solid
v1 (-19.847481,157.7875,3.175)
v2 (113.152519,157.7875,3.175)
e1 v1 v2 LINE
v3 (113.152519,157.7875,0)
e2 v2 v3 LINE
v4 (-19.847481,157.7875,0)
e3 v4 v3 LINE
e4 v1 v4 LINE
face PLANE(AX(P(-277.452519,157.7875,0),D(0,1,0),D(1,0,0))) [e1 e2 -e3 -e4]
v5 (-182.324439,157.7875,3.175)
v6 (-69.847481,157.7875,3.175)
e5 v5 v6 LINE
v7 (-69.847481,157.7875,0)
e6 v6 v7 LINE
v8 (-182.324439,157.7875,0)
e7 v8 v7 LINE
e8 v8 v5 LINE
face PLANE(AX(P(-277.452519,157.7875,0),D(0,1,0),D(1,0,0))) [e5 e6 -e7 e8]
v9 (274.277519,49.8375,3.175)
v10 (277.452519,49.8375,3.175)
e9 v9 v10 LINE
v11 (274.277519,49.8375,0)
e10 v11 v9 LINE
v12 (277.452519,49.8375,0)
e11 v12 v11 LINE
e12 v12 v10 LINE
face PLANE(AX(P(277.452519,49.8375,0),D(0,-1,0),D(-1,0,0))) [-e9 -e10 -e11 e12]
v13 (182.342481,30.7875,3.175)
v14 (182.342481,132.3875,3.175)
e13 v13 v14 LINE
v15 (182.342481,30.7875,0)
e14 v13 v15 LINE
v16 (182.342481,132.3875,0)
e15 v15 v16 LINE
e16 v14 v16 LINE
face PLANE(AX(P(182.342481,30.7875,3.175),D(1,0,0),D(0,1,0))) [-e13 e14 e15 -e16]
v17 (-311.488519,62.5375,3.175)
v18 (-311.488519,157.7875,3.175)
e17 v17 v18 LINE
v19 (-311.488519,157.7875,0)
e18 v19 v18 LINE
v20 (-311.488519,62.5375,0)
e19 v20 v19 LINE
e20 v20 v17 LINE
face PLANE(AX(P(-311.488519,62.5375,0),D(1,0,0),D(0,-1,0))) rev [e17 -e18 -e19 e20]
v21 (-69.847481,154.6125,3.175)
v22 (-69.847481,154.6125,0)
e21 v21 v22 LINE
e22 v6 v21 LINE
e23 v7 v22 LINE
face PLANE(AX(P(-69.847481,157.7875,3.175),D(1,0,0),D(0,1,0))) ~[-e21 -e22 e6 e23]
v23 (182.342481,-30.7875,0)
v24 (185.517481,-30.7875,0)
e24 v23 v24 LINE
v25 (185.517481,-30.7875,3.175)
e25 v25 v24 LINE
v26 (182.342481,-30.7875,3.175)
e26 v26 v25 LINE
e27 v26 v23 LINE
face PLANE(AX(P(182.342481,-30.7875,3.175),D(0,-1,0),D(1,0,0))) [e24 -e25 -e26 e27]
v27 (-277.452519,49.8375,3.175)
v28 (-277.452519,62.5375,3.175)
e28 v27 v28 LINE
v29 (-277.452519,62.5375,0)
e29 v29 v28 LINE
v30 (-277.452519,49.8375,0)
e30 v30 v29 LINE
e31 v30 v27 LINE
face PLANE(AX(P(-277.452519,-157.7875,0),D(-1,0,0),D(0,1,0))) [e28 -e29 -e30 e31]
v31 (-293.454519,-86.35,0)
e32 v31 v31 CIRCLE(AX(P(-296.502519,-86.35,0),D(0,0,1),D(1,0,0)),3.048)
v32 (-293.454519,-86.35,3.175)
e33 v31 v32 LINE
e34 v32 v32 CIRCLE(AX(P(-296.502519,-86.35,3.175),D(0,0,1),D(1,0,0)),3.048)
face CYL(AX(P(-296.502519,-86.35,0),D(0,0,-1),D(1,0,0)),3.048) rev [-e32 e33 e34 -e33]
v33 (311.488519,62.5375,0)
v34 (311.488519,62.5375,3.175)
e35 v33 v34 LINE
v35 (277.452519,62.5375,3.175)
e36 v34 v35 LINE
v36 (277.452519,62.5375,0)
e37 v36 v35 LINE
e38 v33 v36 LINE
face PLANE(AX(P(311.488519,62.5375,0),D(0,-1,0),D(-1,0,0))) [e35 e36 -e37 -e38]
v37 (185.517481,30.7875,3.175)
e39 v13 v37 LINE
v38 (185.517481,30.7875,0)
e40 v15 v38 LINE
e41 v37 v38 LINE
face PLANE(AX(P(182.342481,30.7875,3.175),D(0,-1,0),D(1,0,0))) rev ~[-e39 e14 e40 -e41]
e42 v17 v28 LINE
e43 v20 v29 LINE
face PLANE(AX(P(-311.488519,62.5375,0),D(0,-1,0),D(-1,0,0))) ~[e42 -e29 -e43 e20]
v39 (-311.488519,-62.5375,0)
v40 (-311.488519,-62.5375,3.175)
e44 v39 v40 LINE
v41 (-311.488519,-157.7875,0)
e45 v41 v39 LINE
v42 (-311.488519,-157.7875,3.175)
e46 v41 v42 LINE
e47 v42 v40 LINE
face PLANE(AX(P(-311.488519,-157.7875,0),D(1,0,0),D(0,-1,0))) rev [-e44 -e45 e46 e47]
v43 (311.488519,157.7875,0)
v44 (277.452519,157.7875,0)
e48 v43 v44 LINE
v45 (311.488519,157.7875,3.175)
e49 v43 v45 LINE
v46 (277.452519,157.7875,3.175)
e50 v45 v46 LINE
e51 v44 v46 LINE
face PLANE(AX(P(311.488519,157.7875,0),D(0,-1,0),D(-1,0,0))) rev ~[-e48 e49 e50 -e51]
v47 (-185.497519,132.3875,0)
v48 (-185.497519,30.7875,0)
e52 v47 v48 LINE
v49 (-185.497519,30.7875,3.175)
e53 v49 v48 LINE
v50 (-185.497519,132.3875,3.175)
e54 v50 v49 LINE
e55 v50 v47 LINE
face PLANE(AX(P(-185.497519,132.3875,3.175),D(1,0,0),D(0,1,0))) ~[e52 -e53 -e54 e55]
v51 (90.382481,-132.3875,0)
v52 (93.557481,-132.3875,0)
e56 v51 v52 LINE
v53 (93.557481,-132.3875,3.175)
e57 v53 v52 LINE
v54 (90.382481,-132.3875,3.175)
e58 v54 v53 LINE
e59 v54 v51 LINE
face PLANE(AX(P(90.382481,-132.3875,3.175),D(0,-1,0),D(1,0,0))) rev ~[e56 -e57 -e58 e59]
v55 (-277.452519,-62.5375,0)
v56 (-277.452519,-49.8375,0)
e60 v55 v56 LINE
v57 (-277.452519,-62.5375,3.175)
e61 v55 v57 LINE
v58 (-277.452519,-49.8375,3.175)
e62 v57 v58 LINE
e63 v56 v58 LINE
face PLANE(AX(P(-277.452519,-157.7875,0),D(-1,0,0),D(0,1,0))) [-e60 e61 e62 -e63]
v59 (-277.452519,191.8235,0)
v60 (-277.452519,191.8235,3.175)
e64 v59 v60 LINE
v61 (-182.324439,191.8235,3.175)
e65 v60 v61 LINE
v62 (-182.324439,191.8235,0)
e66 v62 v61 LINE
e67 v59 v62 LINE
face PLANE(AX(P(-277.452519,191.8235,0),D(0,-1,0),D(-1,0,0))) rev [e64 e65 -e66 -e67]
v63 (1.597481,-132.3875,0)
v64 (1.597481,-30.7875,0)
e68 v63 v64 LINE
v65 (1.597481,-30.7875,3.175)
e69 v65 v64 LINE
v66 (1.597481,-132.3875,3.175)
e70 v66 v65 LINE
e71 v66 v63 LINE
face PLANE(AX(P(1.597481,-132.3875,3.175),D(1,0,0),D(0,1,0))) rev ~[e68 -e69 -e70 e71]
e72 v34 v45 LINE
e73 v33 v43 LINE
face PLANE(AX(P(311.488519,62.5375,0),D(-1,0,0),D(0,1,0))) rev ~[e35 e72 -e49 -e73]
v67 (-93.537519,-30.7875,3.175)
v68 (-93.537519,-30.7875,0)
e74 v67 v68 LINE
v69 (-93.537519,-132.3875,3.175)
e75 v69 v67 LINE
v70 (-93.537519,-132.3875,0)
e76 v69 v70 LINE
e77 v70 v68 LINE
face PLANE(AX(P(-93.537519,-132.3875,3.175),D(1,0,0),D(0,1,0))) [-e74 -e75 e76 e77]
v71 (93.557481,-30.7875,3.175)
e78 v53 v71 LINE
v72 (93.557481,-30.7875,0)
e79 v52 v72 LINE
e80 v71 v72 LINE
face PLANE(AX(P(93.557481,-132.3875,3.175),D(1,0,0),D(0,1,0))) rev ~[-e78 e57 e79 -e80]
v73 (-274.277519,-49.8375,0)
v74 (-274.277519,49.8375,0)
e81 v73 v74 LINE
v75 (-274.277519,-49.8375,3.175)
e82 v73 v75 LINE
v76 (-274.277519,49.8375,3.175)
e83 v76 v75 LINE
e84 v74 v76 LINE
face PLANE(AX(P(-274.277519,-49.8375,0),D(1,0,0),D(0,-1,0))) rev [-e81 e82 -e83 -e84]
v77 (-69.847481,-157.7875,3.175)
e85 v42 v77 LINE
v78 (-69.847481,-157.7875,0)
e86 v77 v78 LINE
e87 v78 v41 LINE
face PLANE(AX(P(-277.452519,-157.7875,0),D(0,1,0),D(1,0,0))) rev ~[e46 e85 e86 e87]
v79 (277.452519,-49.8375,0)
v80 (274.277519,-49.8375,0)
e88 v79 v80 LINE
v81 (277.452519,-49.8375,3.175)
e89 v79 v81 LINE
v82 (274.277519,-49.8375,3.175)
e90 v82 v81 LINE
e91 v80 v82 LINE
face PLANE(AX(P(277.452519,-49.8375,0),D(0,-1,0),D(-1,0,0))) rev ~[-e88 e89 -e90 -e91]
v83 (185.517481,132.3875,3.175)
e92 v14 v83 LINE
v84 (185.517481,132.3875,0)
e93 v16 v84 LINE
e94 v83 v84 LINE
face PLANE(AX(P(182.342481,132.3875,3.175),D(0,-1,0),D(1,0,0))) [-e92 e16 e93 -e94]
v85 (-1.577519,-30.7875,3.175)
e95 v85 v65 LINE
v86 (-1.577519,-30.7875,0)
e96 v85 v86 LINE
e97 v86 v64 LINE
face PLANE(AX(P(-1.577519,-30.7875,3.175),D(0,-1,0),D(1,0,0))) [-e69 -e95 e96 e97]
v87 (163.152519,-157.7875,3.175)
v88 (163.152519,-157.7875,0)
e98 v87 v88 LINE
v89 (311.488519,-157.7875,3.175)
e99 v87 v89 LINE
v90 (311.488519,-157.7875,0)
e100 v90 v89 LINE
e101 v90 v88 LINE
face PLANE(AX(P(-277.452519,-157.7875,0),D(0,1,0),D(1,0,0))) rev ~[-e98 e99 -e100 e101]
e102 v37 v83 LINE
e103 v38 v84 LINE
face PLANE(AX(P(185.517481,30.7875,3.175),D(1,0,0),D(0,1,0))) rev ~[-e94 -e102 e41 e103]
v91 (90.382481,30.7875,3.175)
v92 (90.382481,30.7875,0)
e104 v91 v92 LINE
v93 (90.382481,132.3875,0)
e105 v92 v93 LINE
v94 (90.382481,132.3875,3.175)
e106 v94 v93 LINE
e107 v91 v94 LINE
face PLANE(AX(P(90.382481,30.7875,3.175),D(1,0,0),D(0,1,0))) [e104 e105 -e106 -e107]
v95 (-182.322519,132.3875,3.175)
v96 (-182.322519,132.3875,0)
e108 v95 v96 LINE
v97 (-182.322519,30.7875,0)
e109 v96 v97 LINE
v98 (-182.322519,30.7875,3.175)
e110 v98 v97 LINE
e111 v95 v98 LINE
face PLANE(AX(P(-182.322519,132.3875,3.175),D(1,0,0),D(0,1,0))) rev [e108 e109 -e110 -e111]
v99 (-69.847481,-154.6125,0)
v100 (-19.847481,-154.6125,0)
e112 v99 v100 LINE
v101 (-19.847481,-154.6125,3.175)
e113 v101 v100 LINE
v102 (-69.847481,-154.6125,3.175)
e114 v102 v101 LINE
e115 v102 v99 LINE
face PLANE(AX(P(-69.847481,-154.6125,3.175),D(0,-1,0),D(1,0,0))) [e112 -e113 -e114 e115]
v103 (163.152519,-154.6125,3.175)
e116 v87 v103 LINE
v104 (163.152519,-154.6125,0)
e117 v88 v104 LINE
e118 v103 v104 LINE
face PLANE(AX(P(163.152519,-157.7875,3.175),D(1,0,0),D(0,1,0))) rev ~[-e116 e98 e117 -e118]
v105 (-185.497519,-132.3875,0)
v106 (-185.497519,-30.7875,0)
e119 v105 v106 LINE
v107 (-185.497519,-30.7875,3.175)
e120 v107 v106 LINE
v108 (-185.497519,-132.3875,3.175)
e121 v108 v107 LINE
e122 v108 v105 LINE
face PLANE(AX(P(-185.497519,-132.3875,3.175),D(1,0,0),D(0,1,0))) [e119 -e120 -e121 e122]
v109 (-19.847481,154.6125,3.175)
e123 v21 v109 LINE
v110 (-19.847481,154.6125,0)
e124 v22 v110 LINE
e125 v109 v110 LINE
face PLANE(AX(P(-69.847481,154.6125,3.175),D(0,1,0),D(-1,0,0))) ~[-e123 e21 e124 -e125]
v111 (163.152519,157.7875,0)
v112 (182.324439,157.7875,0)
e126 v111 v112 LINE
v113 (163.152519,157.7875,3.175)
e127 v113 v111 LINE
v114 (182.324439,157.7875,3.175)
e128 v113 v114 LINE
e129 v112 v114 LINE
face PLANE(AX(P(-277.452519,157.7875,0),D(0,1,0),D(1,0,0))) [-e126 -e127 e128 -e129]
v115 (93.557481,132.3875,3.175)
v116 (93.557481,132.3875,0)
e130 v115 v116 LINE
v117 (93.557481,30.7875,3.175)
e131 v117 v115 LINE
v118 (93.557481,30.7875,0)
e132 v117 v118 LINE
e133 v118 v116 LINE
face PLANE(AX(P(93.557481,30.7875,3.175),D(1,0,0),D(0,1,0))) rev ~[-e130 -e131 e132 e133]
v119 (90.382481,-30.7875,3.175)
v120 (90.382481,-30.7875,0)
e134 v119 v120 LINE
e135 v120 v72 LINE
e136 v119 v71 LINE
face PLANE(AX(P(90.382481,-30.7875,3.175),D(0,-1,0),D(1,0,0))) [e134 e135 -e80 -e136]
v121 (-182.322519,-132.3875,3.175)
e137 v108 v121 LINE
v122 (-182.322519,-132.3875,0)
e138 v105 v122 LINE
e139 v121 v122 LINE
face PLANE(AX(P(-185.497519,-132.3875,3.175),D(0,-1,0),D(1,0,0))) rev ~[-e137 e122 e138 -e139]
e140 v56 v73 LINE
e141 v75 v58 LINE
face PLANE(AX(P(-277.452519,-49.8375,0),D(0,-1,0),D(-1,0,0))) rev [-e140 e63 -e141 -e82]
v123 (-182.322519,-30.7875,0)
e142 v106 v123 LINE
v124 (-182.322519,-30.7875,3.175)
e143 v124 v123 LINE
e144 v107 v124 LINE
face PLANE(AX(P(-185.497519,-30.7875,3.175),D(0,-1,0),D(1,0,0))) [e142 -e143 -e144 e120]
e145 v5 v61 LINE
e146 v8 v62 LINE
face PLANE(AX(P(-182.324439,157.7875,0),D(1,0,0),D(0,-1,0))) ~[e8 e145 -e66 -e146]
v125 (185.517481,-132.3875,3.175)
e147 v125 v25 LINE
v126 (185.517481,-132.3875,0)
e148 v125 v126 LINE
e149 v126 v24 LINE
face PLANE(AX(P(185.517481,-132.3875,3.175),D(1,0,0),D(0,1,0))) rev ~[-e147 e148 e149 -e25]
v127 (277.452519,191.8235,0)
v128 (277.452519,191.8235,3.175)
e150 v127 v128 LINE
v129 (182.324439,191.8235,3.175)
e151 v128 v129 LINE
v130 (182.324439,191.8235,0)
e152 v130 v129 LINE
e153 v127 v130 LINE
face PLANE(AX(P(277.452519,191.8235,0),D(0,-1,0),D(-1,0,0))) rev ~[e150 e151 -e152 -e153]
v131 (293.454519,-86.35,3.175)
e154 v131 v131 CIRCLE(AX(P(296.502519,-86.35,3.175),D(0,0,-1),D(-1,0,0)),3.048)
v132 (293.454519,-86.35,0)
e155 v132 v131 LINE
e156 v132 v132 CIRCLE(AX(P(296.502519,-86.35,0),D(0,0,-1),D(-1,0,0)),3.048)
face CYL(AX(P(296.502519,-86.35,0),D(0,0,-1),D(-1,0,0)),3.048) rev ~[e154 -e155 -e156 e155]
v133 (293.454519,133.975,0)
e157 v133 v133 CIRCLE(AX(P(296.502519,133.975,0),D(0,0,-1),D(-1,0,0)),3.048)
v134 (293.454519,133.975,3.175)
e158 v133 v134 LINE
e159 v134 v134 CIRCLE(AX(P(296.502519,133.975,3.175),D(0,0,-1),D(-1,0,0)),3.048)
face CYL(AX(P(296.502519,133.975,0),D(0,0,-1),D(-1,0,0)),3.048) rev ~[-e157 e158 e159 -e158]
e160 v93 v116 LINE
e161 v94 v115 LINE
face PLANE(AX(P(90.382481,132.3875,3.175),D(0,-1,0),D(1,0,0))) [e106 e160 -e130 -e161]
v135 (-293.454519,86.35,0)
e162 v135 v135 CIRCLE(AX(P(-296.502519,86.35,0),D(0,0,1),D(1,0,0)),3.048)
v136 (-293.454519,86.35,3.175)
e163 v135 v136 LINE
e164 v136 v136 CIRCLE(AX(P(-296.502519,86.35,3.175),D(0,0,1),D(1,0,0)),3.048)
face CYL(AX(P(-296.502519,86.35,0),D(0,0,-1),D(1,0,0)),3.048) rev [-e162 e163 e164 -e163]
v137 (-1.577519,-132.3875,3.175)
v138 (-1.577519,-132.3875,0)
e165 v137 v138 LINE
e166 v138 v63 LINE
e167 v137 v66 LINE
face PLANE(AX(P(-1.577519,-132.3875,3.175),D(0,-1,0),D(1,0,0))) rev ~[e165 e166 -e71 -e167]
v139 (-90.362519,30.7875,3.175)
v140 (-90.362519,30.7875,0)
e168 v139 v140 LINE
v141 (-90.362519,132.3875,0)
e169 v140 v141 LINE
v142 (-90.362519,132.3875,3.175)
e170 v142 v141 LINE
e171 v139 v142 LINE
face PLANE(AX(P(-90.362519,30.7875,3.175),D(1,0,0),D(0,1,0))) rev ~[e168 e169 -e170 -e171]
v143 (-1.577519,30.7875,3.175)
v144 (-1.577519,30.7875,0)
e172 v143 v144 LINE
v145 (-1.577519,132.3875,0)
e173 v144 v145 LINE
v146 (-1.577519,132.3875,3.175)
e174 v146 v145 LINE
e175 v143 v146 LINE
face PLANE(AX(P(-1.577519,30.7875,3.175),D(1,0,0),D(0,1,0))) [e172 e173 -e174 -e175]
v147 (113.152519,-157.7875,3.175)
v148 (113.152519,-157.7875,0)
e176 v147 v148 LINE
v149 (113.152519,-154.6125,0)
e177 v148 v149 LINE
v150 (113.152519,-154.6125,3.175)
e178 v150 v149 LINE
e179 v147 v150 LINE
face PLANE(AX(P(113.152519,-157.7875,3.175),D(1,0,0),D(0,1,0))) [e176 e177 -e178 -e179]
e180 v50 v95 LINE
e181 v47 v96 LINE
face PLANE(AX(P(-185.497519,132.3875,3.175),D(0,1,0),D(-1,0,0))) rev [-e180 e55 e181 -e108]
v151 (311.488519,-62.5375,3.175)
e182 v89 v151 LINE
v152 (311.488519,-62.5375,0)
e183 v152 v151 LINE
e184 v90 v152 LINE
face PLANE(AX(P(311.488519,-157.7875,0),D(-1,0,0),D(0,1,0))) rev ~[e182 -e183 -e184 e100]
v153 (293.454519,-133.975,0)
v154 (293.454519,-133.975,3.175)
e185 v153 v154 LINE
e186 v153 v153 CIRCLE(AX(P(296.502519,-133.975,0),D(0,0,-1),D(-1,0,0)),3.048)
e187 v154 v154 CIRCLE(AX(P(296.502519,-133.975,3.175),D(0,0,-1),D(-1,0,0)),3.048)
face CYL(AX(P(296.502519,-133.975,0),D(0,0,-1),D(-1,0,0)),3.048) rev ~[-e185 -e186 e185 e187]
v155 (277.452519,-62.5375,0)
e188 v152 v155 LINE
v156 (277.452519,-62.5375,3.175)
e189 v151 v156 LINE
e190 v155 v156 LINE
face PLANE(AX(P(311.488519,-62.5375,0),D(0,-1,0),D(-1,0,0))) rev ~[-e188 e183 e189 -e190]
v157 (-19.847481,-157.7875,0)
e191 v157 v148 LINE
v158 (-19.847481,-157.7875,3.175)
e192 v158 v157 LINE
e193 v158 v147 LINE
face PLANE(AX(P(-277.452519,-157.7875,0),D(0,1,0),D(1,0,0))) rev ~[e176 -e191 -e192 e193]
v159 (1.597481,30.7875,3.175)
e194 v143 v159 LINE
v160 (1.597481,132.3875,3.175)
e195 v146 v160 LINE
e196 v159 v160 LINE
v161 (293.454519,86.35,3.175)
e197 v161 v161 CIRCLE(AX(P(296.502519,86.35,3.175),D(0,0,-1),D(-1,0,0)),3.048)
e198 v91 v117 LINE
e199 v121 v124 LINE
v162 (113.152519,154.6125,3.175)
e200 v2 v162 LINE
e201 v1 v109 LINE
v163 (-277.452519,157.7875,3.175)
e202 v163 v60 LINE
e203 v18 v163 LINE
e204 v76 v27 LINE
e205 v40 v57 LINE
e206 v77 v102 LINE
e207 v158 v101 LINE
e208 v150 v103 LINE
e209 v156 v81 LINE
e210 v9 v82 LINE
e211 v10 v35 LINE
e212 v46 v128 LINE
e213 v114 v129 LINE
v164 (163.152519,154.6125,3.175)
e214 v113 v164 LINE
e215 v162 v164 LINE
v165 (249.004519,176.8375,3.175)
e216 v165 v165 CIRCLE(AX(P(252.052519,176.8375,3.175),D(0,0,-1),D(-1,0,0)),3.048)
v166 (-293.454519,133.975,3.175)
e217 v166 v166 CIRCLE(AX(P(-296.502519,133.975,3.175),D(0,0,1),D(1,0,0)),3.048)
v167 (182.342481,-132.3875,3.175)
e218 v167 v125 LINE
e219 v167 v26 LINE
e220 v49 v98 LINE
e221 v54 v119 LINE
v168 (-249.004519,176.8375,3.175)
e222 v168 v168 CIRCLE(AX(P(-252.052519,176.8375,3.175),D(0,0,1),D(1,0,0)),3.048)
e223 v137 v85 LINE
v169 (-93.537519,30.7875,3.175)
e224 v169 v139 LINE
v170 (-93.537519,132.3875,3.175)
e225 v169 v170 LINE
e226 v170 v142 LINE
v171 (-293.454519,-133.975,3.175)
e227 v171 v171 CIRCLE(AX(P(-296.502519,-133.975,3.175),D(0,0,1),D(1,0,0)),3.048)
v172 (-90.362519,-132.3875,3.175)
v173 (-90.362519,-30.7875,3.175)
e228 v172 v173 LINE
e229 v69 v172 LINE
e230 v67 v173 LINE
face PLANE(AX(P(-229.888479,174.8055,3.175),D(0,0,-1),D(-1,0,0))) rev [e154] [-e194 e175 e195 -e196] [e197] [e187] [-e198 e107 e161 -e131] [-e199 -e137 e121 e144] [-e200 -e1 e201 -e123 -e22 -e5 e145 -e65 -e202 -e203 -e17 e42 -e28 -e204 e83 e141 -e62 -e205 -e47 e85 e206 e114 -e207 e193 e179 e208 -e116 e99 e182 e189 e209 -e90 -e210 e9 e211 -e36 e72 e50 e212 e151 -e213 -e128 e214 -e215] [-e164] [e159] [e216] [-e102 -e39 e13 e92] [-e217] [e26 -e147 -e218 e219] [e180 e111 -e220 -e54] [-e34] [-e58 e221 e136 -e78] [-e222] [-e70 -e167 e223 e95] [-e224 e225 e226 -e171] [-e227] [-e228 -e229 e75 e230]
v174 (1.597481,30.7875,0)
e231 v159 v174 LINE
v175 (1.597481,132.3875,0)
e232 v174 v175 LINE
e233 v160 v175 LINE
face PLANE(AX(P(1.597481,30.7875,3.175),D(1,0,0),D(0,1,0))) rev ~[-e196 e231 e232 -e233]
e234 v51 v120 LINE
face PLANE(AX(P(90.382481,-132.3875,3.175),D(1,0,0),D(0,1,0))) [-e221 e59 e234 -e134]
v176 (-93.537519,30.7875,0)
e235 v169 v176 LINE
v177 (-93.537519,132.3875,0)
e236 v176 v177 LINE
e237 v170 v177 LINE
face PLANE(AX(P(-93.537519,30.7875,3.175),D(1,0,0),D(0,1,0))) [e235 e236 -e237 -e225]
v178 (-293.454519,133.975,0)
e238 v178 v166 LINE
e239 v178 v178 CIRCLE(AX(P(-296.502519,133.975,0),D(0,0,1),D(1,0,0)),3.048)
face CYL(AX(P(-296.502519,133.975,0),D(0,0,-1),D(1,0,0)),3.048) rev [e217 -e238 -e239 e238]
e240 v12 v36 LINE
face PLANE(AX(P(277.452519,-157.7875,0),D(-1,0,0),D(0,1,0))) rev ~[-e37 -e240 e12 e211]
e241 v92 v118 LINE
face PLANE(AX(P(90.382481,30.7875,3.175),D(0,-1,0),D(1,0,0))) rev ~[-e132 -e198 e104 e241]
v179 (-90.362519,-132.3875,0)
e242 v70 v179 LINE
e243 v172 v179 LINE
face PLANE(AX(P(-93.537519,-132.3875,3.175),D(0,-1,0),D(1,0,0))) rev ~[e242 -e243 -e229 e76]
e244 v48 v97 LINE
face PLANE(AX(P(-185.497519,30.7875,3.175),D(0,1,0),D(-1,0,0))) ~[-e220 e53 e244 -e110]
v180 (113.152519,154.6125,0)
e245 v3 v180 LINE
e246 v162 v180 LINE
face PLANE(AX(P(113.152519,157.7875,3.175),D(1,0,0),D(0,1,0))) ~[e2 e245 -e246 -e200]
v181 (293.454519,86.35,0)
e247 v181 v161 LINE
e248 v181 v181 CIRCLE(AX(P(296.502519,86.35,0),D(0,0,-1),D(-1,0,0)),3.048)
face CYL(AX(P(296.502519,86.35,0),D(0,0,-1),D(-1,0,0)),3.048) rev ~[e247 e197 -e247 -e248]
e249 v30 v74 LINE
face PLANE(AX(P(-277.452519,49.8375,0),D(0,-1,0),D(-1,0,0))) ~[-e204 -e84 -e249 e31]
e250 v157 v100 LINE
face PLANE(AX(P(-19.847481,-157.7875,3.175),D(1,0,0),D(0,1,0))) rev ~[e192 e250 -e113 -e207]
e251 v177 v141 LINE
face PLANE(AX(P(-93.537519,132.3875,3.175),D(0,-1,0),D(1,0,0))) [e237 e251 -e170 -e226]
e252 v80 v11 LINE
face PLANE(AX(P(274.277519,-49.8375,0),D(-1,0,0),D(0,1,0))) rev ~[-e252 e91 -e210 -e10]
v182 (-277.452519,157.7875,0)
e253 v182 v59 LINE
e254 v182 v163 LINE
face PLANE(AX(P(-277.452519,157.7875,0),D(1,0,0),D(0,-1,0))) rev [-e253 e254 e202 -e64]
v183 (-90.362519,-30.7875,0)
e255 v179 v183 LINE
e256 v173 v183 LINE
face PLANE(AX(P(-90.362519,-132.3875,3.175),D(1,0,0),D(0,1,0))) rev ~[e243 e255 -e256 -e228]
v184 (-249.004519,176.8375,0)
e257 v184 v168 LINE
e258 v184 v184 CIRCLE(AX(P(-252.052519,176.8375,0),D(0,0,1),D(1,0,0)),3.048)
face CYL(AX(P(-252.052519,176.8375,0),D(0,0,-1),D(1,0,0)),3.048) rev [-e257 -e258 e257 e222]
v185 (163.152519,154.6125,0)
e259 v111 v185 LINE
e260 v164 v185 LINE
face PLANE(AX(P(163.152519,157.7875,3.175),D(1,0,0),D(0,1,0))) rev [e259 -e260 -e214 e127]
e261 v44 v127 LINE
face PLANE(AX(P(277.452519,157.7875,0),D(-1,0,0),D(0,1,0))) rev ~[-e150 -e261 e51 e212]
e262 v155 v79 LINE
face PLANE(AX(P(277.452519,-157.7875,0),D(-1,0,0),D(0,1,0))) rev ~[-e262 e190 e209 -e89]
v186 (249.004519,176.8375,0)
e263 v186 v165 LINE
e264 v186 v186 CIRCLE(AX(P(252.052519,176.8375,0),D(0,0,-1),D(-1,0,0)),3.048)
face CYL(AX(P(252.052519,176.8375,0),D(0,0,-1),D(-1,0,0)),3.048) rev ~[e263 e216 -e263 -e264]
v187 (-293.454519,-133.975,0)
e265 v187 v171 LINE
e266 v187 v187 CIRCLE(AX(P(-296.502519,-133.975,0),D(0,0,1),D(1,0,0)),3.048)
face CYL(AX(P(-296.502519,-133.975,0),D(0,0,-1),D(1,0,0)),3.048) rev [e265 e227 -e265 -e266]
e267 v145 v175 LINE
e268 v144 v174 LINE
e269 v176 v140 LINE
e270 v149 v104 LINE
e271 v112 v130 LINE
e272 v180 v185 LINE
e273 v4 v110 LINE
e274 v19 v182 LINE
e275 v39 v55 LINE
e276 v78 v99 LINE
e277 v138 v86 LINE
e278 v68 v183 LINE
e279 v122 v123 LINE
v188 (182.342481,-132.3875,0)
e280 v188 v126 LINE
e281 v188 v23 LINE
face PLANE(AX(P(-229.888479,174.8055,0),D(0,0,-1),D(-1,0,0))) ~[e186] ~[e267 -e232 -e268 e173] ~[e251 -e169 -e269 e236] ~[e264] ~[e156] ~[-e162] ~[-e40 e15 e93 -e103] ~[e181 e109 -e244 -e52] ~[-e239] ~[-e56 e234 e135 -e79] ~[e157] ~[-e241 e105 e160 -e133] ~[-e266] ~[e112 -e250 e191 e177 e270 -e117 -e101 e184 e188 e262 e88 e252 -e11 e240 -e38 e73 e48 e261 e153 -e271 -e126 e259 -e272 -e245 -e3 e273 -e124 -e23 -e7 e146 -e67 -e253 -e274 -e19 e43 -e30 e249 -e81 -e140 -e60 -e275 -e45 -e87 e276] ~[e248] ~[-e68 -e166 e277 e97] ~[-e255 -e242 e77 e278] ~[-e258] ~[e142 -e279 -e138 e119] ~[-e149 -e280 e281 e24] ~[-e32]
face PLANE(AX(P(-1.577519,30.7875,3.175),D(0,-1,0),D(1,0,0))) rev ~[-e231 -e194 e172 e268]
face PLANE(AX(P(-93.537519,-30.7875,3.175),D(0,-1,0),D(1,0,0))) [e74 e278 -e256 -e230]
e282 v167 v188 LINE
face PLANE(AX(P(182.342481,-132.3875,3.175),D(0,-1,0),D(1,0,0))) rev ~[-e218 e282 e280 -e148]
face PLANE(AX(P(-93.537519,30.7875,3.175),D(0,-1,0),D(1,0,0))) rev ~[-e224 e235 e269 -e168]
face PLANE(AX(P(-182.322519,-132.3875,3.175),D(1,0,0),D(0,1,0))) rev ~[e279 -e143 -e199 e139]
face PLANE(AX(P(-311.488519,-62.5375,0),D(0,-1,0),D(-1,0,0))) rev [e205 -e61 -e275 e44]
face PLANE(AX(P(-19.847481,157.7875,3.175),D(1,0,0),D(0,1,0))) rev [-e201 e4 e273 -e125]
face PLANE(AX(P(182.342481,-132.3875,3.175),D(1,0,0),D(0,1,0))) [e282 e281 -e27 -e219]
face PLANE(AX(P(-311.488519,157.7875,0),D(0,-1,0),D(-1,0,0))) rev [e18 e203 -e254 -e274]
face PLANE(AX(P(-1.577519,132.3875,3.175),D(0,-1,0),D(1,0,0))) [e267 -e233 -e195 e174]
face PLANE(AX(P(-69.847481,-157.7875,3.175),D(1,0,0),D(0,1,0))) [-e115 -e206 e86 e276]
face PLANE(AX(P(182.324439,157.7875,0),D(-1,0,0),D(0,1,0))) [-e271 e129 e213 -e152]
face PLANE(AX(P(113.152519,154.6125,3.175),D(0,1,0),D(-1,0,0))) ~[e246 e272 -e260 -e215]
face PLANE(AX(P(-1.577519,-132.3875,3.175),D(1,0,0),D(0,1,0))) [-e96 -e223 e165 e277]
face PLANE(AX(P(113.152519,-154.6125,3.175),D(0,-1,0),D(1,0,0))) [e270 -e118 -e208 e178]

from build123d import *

# Parameters (mm, degrees)
SKETCH1_W                 = 554.905038524
SKETCH1_H                 = 315.575
BOSS_EXTRUDE1_DEPTH       = 3.175
SKETCH2_W                 = 3.175
SKETCH2_H                 = 101.6
CUT_EXTRUDE1_DEPTH        = 3.175
SKETCH7_W                 = 50
SKETCH7_H                 = 3.175
CUT_EXTRUDE5_DEPTH        = 3.175
LPATTERN2_COUNT           = 5
LPATTERN2_PITCH           = 91.96
LPATTERN2_COPY_1_SKETCH_W = 3.175
LPATTERN2_COPY_1_SKETCH_H = 101.6
LPATTERN2_COPY_1_DEPTH    = 3.175
LPATTERN2_COPY_2_SKETCH_W = 3.175
LPATTERN2_COPY_2_SKETCH_H = 101.6
LPATTERN2_COPY_2_DEPTH    = 3.175
LPATTERN2_COPY_3_SKETCH_W = 3.175
LPATTERN2_COPY_3_SKETCH_H = 101.6
LPATTERN2_COPY_3_DEPTH    = 3.175
LPATTERN2_COPY_4_SKETCH_W = 3.175
LPATTERN2_COPY_4_SKETCH_H = 101.6
LPATTERN2_COPY_4_DEPTH    = 3.175
SKETCH9_W                 = 95.12808
SKETCH9_H                 = 34.036
SKETCH9_R                 = 3.048
SKETCH9_W_2               = 34.036
SKETCH9_H_2               = 95.25
BOSS_EXTRUDE3_DEPTH       = 3.175
SKETCH10_W                = 3.175
SKETCH10_H                = 99.675
CUT_EXTRUDE6_DEPTH        = 366.829787482


with BuildPart() as part:
    # Sketch1 → Boss-Extrude1 (new body)
    with BuildSketch(Plane.XY):
        Rectangle(SKETCH1_W, SKETCH1_H)
    extrude(amount=BOSS_EXTRUDE1_DEPTH)

    # Sketch2 → Cut-Extrude1 (cut)
    with BuildSketch(Plane.XY.offset(3.175)):
        with Locations((-183.910019262, -81.5875)):
            Rectangle(SKETCH2_W, SKETCH2_H)
    cut_extrude1 = extrude(amount=-CUT_EXTRUDE1_DEPTH, mode=Mode.SUBTRACT)

    # Sketch7 → Cut-Extrude5 (cut)
    with BuildSketch(Plane.XY.offset(3.175)):
        with Locations((138.152519262, -156.2)):
            Rectangle(SKETCH7_W, SKETCH7_H)
        with Locations((-44.847480738, -156.2)):
            Rectangle(SKETCH7_W, SKETCH7_H)
    cut_extrude5 = extrude(amount=-CUT_EXTRUDE5_DEPTH, mode=Mode.SUBTRACT)

    # Mirror3: Cut-Extrude1 across plane
    add(cut_extrude1.mirror(Plane.ZX), mode=Mode.SUBTRACT)

    # LPattern2: Cut-Extrude1 ×5
    with Locations(*[(i * LPATTERN2_PITCH, 0, 0) for i in range(1, LPATTERN2_COUNT)]):
        add(cut_extrude1, mode=Mode.SUBTRACT)

    # LPattern2 copy 1 sketch → LPattern2 copy 1 (cut)
    with BuildSketch(Plane(origin=(91.96, 0, 3.175), x_dir=(1, 0, 0), z_dir=(0, 0, 1))):
        with Locations((-183.910019262, 81.5875)):
            Rectangle(LPATTERN2_COPY_1_SKETCH_W, LPATTERN2_COPY_1_SKETCH_H)
    extrude(amount=-LPATTERN2_COPY_1_DEPTH, mode=Mode.SUBTRACT)

    # LPattern2 copy 2 sketch → LPattern2 copy 2 (cut)
    with BuildSketch(Plane(origin=(183.92, 0, 3.175), x_dir=(1, 0, 0), z_dir=(0, 0, 1))):
        with Locations((-183.910019262, 81.5875)):
            Rectangle(LPATTERN2_COPY_2_SKETCH_W, LPATTERN2_COPY_2_SKETCH_H)
    extrude(amount=-LPATTERN2_COPY_2_DEPTH, mode=Mode.SUBTRACT)

    # LPattern2 copy 3 sketch → LPattern2 copy 3 (cut)
    with BuildSketch(Plane(origin=(275.88, 0, 3.175), x_dir=(1, 0, 0), z_dir=(0, 0, 1))):
        with Locations((-183.910019262, 81.5875)):
            Rectangle(LPATTERN2_COPY_3_SKETCH_W, LPATTERN2_COPY_3_SKETCH_H)
    extrude(amount=-LPATTERN2_COPY_3_DEPTH, mode=Mode.SUBTRACT)

    # LPattern2 copy 4 sketch → LPattern2 copy 4 (cut)
    with BuildSketch(Plane(origin=(367.84, 0, 3.175), x_dir=(1, 0, 0), z_dir=(0, 0, 1))):
        with Locations((-183.910019262, 81.5875)):
            Rectangle(LPATTERN2_COPY_4_SKETCH_W, LPATTERN2_COPY_4_SKETCH_H)
    extrude(amount=-LPATTERN2_COPY_4_DEPTH, mode=Mode.SUBTRACT)

    # Sketch9 → Boss-Extrude3 (add)
    # profile 1 of 3: a face of its own
    with BuildSketch(Plane(origin=(0, 0, 0), x_dir=(-1, 0, 0), z_dir=(0, 0, -1))):
        with Locations((-229.888479262, 174.8055)):
            Rectangle(SKETCH9_W, SKETCH9_H)
        with Locations((-252.052519262, 176.8375)):
            Circle(SKETCH9_R, mode=Mode.SUBTRACT)
    # profile 2 of 3: a face of its own
    with BuildSketch(Plane(origin=(0, 0, 0), x_dir=(-1, 0, 0), z_dir=(0, 0, -1))):
        with Locations((-294.470519262, 110.1625)):
            Rectangle(SKETCH9_W_2, SKETCH9_H_2)
        with Locations((-296.502519262, 86.35)):
            Circle(SKETCH9_R, mode=Mode.SUBTRACT)
        with Locations((-296.502519262, 133.975)):
            Circle(SKETCH9_R, mode=Mode.SUBTRACT)
    # profile 3 of 3: a face of its own
    with BuildSketch(Plane(origin=(0, 0, 0), x_dir=(-1, 0, 0), z_dir=(0, 0, -1))):
        with Locations((-294.470519262, -110.1625)):
            Rectangle(SKETCH9_W_2, SKETCH9_H_2)
        with Locations((-296.502519262, -133.975)):
            Circle(SKETCH9_R, mode=Mode.SUBTRACT)
        with Locations((-296.502519262, -86.35)):
            Circle(SKETCH9_R, mode=Mode.SUBTRACT)
    boss_extrude3 = extrude(amount=-BOSS_EXTRUDE3_DEPTH)

    # Mirror4: Boss-Extrude3 across plane
    add(boss_extrude3.mirror(Plane(origin=(0, 0, 0), x_dir=(0, 0, 1), z_dir=(1, 0, 0))))

    # Mirror5: Cut-Extrude5 across plane
    add(cut_extrude5.mirror(Plane.ZX), mode=Mode.SUBTRACT)

    # Sketch10 → Cut-Extrude6 (cut, through all)
    with BuildSketch(Plane(origin=(0, 0, 0), x_dir=(-1, 0, 0), z_dir=(0, 0, -1))):
        with Locations((-275.865019262, 0)):
            Rectangle(SKETCH10_W, SKETCH10_H)
    cut_extrude6 = extrude(amount=-CUT_EXTRUDE6_DEPTH, mode=Mode.SUBTRACT)

    # Mirror6: Cut-Extrude6 across plane
    add(cut_extrude6.mirror(Plane(origin=(0, 0, 0), x_dir=(0, 0, 1), z_dir=(1, 0, 0))), mode=Mode.SUBTRACT)


solid = part.part
